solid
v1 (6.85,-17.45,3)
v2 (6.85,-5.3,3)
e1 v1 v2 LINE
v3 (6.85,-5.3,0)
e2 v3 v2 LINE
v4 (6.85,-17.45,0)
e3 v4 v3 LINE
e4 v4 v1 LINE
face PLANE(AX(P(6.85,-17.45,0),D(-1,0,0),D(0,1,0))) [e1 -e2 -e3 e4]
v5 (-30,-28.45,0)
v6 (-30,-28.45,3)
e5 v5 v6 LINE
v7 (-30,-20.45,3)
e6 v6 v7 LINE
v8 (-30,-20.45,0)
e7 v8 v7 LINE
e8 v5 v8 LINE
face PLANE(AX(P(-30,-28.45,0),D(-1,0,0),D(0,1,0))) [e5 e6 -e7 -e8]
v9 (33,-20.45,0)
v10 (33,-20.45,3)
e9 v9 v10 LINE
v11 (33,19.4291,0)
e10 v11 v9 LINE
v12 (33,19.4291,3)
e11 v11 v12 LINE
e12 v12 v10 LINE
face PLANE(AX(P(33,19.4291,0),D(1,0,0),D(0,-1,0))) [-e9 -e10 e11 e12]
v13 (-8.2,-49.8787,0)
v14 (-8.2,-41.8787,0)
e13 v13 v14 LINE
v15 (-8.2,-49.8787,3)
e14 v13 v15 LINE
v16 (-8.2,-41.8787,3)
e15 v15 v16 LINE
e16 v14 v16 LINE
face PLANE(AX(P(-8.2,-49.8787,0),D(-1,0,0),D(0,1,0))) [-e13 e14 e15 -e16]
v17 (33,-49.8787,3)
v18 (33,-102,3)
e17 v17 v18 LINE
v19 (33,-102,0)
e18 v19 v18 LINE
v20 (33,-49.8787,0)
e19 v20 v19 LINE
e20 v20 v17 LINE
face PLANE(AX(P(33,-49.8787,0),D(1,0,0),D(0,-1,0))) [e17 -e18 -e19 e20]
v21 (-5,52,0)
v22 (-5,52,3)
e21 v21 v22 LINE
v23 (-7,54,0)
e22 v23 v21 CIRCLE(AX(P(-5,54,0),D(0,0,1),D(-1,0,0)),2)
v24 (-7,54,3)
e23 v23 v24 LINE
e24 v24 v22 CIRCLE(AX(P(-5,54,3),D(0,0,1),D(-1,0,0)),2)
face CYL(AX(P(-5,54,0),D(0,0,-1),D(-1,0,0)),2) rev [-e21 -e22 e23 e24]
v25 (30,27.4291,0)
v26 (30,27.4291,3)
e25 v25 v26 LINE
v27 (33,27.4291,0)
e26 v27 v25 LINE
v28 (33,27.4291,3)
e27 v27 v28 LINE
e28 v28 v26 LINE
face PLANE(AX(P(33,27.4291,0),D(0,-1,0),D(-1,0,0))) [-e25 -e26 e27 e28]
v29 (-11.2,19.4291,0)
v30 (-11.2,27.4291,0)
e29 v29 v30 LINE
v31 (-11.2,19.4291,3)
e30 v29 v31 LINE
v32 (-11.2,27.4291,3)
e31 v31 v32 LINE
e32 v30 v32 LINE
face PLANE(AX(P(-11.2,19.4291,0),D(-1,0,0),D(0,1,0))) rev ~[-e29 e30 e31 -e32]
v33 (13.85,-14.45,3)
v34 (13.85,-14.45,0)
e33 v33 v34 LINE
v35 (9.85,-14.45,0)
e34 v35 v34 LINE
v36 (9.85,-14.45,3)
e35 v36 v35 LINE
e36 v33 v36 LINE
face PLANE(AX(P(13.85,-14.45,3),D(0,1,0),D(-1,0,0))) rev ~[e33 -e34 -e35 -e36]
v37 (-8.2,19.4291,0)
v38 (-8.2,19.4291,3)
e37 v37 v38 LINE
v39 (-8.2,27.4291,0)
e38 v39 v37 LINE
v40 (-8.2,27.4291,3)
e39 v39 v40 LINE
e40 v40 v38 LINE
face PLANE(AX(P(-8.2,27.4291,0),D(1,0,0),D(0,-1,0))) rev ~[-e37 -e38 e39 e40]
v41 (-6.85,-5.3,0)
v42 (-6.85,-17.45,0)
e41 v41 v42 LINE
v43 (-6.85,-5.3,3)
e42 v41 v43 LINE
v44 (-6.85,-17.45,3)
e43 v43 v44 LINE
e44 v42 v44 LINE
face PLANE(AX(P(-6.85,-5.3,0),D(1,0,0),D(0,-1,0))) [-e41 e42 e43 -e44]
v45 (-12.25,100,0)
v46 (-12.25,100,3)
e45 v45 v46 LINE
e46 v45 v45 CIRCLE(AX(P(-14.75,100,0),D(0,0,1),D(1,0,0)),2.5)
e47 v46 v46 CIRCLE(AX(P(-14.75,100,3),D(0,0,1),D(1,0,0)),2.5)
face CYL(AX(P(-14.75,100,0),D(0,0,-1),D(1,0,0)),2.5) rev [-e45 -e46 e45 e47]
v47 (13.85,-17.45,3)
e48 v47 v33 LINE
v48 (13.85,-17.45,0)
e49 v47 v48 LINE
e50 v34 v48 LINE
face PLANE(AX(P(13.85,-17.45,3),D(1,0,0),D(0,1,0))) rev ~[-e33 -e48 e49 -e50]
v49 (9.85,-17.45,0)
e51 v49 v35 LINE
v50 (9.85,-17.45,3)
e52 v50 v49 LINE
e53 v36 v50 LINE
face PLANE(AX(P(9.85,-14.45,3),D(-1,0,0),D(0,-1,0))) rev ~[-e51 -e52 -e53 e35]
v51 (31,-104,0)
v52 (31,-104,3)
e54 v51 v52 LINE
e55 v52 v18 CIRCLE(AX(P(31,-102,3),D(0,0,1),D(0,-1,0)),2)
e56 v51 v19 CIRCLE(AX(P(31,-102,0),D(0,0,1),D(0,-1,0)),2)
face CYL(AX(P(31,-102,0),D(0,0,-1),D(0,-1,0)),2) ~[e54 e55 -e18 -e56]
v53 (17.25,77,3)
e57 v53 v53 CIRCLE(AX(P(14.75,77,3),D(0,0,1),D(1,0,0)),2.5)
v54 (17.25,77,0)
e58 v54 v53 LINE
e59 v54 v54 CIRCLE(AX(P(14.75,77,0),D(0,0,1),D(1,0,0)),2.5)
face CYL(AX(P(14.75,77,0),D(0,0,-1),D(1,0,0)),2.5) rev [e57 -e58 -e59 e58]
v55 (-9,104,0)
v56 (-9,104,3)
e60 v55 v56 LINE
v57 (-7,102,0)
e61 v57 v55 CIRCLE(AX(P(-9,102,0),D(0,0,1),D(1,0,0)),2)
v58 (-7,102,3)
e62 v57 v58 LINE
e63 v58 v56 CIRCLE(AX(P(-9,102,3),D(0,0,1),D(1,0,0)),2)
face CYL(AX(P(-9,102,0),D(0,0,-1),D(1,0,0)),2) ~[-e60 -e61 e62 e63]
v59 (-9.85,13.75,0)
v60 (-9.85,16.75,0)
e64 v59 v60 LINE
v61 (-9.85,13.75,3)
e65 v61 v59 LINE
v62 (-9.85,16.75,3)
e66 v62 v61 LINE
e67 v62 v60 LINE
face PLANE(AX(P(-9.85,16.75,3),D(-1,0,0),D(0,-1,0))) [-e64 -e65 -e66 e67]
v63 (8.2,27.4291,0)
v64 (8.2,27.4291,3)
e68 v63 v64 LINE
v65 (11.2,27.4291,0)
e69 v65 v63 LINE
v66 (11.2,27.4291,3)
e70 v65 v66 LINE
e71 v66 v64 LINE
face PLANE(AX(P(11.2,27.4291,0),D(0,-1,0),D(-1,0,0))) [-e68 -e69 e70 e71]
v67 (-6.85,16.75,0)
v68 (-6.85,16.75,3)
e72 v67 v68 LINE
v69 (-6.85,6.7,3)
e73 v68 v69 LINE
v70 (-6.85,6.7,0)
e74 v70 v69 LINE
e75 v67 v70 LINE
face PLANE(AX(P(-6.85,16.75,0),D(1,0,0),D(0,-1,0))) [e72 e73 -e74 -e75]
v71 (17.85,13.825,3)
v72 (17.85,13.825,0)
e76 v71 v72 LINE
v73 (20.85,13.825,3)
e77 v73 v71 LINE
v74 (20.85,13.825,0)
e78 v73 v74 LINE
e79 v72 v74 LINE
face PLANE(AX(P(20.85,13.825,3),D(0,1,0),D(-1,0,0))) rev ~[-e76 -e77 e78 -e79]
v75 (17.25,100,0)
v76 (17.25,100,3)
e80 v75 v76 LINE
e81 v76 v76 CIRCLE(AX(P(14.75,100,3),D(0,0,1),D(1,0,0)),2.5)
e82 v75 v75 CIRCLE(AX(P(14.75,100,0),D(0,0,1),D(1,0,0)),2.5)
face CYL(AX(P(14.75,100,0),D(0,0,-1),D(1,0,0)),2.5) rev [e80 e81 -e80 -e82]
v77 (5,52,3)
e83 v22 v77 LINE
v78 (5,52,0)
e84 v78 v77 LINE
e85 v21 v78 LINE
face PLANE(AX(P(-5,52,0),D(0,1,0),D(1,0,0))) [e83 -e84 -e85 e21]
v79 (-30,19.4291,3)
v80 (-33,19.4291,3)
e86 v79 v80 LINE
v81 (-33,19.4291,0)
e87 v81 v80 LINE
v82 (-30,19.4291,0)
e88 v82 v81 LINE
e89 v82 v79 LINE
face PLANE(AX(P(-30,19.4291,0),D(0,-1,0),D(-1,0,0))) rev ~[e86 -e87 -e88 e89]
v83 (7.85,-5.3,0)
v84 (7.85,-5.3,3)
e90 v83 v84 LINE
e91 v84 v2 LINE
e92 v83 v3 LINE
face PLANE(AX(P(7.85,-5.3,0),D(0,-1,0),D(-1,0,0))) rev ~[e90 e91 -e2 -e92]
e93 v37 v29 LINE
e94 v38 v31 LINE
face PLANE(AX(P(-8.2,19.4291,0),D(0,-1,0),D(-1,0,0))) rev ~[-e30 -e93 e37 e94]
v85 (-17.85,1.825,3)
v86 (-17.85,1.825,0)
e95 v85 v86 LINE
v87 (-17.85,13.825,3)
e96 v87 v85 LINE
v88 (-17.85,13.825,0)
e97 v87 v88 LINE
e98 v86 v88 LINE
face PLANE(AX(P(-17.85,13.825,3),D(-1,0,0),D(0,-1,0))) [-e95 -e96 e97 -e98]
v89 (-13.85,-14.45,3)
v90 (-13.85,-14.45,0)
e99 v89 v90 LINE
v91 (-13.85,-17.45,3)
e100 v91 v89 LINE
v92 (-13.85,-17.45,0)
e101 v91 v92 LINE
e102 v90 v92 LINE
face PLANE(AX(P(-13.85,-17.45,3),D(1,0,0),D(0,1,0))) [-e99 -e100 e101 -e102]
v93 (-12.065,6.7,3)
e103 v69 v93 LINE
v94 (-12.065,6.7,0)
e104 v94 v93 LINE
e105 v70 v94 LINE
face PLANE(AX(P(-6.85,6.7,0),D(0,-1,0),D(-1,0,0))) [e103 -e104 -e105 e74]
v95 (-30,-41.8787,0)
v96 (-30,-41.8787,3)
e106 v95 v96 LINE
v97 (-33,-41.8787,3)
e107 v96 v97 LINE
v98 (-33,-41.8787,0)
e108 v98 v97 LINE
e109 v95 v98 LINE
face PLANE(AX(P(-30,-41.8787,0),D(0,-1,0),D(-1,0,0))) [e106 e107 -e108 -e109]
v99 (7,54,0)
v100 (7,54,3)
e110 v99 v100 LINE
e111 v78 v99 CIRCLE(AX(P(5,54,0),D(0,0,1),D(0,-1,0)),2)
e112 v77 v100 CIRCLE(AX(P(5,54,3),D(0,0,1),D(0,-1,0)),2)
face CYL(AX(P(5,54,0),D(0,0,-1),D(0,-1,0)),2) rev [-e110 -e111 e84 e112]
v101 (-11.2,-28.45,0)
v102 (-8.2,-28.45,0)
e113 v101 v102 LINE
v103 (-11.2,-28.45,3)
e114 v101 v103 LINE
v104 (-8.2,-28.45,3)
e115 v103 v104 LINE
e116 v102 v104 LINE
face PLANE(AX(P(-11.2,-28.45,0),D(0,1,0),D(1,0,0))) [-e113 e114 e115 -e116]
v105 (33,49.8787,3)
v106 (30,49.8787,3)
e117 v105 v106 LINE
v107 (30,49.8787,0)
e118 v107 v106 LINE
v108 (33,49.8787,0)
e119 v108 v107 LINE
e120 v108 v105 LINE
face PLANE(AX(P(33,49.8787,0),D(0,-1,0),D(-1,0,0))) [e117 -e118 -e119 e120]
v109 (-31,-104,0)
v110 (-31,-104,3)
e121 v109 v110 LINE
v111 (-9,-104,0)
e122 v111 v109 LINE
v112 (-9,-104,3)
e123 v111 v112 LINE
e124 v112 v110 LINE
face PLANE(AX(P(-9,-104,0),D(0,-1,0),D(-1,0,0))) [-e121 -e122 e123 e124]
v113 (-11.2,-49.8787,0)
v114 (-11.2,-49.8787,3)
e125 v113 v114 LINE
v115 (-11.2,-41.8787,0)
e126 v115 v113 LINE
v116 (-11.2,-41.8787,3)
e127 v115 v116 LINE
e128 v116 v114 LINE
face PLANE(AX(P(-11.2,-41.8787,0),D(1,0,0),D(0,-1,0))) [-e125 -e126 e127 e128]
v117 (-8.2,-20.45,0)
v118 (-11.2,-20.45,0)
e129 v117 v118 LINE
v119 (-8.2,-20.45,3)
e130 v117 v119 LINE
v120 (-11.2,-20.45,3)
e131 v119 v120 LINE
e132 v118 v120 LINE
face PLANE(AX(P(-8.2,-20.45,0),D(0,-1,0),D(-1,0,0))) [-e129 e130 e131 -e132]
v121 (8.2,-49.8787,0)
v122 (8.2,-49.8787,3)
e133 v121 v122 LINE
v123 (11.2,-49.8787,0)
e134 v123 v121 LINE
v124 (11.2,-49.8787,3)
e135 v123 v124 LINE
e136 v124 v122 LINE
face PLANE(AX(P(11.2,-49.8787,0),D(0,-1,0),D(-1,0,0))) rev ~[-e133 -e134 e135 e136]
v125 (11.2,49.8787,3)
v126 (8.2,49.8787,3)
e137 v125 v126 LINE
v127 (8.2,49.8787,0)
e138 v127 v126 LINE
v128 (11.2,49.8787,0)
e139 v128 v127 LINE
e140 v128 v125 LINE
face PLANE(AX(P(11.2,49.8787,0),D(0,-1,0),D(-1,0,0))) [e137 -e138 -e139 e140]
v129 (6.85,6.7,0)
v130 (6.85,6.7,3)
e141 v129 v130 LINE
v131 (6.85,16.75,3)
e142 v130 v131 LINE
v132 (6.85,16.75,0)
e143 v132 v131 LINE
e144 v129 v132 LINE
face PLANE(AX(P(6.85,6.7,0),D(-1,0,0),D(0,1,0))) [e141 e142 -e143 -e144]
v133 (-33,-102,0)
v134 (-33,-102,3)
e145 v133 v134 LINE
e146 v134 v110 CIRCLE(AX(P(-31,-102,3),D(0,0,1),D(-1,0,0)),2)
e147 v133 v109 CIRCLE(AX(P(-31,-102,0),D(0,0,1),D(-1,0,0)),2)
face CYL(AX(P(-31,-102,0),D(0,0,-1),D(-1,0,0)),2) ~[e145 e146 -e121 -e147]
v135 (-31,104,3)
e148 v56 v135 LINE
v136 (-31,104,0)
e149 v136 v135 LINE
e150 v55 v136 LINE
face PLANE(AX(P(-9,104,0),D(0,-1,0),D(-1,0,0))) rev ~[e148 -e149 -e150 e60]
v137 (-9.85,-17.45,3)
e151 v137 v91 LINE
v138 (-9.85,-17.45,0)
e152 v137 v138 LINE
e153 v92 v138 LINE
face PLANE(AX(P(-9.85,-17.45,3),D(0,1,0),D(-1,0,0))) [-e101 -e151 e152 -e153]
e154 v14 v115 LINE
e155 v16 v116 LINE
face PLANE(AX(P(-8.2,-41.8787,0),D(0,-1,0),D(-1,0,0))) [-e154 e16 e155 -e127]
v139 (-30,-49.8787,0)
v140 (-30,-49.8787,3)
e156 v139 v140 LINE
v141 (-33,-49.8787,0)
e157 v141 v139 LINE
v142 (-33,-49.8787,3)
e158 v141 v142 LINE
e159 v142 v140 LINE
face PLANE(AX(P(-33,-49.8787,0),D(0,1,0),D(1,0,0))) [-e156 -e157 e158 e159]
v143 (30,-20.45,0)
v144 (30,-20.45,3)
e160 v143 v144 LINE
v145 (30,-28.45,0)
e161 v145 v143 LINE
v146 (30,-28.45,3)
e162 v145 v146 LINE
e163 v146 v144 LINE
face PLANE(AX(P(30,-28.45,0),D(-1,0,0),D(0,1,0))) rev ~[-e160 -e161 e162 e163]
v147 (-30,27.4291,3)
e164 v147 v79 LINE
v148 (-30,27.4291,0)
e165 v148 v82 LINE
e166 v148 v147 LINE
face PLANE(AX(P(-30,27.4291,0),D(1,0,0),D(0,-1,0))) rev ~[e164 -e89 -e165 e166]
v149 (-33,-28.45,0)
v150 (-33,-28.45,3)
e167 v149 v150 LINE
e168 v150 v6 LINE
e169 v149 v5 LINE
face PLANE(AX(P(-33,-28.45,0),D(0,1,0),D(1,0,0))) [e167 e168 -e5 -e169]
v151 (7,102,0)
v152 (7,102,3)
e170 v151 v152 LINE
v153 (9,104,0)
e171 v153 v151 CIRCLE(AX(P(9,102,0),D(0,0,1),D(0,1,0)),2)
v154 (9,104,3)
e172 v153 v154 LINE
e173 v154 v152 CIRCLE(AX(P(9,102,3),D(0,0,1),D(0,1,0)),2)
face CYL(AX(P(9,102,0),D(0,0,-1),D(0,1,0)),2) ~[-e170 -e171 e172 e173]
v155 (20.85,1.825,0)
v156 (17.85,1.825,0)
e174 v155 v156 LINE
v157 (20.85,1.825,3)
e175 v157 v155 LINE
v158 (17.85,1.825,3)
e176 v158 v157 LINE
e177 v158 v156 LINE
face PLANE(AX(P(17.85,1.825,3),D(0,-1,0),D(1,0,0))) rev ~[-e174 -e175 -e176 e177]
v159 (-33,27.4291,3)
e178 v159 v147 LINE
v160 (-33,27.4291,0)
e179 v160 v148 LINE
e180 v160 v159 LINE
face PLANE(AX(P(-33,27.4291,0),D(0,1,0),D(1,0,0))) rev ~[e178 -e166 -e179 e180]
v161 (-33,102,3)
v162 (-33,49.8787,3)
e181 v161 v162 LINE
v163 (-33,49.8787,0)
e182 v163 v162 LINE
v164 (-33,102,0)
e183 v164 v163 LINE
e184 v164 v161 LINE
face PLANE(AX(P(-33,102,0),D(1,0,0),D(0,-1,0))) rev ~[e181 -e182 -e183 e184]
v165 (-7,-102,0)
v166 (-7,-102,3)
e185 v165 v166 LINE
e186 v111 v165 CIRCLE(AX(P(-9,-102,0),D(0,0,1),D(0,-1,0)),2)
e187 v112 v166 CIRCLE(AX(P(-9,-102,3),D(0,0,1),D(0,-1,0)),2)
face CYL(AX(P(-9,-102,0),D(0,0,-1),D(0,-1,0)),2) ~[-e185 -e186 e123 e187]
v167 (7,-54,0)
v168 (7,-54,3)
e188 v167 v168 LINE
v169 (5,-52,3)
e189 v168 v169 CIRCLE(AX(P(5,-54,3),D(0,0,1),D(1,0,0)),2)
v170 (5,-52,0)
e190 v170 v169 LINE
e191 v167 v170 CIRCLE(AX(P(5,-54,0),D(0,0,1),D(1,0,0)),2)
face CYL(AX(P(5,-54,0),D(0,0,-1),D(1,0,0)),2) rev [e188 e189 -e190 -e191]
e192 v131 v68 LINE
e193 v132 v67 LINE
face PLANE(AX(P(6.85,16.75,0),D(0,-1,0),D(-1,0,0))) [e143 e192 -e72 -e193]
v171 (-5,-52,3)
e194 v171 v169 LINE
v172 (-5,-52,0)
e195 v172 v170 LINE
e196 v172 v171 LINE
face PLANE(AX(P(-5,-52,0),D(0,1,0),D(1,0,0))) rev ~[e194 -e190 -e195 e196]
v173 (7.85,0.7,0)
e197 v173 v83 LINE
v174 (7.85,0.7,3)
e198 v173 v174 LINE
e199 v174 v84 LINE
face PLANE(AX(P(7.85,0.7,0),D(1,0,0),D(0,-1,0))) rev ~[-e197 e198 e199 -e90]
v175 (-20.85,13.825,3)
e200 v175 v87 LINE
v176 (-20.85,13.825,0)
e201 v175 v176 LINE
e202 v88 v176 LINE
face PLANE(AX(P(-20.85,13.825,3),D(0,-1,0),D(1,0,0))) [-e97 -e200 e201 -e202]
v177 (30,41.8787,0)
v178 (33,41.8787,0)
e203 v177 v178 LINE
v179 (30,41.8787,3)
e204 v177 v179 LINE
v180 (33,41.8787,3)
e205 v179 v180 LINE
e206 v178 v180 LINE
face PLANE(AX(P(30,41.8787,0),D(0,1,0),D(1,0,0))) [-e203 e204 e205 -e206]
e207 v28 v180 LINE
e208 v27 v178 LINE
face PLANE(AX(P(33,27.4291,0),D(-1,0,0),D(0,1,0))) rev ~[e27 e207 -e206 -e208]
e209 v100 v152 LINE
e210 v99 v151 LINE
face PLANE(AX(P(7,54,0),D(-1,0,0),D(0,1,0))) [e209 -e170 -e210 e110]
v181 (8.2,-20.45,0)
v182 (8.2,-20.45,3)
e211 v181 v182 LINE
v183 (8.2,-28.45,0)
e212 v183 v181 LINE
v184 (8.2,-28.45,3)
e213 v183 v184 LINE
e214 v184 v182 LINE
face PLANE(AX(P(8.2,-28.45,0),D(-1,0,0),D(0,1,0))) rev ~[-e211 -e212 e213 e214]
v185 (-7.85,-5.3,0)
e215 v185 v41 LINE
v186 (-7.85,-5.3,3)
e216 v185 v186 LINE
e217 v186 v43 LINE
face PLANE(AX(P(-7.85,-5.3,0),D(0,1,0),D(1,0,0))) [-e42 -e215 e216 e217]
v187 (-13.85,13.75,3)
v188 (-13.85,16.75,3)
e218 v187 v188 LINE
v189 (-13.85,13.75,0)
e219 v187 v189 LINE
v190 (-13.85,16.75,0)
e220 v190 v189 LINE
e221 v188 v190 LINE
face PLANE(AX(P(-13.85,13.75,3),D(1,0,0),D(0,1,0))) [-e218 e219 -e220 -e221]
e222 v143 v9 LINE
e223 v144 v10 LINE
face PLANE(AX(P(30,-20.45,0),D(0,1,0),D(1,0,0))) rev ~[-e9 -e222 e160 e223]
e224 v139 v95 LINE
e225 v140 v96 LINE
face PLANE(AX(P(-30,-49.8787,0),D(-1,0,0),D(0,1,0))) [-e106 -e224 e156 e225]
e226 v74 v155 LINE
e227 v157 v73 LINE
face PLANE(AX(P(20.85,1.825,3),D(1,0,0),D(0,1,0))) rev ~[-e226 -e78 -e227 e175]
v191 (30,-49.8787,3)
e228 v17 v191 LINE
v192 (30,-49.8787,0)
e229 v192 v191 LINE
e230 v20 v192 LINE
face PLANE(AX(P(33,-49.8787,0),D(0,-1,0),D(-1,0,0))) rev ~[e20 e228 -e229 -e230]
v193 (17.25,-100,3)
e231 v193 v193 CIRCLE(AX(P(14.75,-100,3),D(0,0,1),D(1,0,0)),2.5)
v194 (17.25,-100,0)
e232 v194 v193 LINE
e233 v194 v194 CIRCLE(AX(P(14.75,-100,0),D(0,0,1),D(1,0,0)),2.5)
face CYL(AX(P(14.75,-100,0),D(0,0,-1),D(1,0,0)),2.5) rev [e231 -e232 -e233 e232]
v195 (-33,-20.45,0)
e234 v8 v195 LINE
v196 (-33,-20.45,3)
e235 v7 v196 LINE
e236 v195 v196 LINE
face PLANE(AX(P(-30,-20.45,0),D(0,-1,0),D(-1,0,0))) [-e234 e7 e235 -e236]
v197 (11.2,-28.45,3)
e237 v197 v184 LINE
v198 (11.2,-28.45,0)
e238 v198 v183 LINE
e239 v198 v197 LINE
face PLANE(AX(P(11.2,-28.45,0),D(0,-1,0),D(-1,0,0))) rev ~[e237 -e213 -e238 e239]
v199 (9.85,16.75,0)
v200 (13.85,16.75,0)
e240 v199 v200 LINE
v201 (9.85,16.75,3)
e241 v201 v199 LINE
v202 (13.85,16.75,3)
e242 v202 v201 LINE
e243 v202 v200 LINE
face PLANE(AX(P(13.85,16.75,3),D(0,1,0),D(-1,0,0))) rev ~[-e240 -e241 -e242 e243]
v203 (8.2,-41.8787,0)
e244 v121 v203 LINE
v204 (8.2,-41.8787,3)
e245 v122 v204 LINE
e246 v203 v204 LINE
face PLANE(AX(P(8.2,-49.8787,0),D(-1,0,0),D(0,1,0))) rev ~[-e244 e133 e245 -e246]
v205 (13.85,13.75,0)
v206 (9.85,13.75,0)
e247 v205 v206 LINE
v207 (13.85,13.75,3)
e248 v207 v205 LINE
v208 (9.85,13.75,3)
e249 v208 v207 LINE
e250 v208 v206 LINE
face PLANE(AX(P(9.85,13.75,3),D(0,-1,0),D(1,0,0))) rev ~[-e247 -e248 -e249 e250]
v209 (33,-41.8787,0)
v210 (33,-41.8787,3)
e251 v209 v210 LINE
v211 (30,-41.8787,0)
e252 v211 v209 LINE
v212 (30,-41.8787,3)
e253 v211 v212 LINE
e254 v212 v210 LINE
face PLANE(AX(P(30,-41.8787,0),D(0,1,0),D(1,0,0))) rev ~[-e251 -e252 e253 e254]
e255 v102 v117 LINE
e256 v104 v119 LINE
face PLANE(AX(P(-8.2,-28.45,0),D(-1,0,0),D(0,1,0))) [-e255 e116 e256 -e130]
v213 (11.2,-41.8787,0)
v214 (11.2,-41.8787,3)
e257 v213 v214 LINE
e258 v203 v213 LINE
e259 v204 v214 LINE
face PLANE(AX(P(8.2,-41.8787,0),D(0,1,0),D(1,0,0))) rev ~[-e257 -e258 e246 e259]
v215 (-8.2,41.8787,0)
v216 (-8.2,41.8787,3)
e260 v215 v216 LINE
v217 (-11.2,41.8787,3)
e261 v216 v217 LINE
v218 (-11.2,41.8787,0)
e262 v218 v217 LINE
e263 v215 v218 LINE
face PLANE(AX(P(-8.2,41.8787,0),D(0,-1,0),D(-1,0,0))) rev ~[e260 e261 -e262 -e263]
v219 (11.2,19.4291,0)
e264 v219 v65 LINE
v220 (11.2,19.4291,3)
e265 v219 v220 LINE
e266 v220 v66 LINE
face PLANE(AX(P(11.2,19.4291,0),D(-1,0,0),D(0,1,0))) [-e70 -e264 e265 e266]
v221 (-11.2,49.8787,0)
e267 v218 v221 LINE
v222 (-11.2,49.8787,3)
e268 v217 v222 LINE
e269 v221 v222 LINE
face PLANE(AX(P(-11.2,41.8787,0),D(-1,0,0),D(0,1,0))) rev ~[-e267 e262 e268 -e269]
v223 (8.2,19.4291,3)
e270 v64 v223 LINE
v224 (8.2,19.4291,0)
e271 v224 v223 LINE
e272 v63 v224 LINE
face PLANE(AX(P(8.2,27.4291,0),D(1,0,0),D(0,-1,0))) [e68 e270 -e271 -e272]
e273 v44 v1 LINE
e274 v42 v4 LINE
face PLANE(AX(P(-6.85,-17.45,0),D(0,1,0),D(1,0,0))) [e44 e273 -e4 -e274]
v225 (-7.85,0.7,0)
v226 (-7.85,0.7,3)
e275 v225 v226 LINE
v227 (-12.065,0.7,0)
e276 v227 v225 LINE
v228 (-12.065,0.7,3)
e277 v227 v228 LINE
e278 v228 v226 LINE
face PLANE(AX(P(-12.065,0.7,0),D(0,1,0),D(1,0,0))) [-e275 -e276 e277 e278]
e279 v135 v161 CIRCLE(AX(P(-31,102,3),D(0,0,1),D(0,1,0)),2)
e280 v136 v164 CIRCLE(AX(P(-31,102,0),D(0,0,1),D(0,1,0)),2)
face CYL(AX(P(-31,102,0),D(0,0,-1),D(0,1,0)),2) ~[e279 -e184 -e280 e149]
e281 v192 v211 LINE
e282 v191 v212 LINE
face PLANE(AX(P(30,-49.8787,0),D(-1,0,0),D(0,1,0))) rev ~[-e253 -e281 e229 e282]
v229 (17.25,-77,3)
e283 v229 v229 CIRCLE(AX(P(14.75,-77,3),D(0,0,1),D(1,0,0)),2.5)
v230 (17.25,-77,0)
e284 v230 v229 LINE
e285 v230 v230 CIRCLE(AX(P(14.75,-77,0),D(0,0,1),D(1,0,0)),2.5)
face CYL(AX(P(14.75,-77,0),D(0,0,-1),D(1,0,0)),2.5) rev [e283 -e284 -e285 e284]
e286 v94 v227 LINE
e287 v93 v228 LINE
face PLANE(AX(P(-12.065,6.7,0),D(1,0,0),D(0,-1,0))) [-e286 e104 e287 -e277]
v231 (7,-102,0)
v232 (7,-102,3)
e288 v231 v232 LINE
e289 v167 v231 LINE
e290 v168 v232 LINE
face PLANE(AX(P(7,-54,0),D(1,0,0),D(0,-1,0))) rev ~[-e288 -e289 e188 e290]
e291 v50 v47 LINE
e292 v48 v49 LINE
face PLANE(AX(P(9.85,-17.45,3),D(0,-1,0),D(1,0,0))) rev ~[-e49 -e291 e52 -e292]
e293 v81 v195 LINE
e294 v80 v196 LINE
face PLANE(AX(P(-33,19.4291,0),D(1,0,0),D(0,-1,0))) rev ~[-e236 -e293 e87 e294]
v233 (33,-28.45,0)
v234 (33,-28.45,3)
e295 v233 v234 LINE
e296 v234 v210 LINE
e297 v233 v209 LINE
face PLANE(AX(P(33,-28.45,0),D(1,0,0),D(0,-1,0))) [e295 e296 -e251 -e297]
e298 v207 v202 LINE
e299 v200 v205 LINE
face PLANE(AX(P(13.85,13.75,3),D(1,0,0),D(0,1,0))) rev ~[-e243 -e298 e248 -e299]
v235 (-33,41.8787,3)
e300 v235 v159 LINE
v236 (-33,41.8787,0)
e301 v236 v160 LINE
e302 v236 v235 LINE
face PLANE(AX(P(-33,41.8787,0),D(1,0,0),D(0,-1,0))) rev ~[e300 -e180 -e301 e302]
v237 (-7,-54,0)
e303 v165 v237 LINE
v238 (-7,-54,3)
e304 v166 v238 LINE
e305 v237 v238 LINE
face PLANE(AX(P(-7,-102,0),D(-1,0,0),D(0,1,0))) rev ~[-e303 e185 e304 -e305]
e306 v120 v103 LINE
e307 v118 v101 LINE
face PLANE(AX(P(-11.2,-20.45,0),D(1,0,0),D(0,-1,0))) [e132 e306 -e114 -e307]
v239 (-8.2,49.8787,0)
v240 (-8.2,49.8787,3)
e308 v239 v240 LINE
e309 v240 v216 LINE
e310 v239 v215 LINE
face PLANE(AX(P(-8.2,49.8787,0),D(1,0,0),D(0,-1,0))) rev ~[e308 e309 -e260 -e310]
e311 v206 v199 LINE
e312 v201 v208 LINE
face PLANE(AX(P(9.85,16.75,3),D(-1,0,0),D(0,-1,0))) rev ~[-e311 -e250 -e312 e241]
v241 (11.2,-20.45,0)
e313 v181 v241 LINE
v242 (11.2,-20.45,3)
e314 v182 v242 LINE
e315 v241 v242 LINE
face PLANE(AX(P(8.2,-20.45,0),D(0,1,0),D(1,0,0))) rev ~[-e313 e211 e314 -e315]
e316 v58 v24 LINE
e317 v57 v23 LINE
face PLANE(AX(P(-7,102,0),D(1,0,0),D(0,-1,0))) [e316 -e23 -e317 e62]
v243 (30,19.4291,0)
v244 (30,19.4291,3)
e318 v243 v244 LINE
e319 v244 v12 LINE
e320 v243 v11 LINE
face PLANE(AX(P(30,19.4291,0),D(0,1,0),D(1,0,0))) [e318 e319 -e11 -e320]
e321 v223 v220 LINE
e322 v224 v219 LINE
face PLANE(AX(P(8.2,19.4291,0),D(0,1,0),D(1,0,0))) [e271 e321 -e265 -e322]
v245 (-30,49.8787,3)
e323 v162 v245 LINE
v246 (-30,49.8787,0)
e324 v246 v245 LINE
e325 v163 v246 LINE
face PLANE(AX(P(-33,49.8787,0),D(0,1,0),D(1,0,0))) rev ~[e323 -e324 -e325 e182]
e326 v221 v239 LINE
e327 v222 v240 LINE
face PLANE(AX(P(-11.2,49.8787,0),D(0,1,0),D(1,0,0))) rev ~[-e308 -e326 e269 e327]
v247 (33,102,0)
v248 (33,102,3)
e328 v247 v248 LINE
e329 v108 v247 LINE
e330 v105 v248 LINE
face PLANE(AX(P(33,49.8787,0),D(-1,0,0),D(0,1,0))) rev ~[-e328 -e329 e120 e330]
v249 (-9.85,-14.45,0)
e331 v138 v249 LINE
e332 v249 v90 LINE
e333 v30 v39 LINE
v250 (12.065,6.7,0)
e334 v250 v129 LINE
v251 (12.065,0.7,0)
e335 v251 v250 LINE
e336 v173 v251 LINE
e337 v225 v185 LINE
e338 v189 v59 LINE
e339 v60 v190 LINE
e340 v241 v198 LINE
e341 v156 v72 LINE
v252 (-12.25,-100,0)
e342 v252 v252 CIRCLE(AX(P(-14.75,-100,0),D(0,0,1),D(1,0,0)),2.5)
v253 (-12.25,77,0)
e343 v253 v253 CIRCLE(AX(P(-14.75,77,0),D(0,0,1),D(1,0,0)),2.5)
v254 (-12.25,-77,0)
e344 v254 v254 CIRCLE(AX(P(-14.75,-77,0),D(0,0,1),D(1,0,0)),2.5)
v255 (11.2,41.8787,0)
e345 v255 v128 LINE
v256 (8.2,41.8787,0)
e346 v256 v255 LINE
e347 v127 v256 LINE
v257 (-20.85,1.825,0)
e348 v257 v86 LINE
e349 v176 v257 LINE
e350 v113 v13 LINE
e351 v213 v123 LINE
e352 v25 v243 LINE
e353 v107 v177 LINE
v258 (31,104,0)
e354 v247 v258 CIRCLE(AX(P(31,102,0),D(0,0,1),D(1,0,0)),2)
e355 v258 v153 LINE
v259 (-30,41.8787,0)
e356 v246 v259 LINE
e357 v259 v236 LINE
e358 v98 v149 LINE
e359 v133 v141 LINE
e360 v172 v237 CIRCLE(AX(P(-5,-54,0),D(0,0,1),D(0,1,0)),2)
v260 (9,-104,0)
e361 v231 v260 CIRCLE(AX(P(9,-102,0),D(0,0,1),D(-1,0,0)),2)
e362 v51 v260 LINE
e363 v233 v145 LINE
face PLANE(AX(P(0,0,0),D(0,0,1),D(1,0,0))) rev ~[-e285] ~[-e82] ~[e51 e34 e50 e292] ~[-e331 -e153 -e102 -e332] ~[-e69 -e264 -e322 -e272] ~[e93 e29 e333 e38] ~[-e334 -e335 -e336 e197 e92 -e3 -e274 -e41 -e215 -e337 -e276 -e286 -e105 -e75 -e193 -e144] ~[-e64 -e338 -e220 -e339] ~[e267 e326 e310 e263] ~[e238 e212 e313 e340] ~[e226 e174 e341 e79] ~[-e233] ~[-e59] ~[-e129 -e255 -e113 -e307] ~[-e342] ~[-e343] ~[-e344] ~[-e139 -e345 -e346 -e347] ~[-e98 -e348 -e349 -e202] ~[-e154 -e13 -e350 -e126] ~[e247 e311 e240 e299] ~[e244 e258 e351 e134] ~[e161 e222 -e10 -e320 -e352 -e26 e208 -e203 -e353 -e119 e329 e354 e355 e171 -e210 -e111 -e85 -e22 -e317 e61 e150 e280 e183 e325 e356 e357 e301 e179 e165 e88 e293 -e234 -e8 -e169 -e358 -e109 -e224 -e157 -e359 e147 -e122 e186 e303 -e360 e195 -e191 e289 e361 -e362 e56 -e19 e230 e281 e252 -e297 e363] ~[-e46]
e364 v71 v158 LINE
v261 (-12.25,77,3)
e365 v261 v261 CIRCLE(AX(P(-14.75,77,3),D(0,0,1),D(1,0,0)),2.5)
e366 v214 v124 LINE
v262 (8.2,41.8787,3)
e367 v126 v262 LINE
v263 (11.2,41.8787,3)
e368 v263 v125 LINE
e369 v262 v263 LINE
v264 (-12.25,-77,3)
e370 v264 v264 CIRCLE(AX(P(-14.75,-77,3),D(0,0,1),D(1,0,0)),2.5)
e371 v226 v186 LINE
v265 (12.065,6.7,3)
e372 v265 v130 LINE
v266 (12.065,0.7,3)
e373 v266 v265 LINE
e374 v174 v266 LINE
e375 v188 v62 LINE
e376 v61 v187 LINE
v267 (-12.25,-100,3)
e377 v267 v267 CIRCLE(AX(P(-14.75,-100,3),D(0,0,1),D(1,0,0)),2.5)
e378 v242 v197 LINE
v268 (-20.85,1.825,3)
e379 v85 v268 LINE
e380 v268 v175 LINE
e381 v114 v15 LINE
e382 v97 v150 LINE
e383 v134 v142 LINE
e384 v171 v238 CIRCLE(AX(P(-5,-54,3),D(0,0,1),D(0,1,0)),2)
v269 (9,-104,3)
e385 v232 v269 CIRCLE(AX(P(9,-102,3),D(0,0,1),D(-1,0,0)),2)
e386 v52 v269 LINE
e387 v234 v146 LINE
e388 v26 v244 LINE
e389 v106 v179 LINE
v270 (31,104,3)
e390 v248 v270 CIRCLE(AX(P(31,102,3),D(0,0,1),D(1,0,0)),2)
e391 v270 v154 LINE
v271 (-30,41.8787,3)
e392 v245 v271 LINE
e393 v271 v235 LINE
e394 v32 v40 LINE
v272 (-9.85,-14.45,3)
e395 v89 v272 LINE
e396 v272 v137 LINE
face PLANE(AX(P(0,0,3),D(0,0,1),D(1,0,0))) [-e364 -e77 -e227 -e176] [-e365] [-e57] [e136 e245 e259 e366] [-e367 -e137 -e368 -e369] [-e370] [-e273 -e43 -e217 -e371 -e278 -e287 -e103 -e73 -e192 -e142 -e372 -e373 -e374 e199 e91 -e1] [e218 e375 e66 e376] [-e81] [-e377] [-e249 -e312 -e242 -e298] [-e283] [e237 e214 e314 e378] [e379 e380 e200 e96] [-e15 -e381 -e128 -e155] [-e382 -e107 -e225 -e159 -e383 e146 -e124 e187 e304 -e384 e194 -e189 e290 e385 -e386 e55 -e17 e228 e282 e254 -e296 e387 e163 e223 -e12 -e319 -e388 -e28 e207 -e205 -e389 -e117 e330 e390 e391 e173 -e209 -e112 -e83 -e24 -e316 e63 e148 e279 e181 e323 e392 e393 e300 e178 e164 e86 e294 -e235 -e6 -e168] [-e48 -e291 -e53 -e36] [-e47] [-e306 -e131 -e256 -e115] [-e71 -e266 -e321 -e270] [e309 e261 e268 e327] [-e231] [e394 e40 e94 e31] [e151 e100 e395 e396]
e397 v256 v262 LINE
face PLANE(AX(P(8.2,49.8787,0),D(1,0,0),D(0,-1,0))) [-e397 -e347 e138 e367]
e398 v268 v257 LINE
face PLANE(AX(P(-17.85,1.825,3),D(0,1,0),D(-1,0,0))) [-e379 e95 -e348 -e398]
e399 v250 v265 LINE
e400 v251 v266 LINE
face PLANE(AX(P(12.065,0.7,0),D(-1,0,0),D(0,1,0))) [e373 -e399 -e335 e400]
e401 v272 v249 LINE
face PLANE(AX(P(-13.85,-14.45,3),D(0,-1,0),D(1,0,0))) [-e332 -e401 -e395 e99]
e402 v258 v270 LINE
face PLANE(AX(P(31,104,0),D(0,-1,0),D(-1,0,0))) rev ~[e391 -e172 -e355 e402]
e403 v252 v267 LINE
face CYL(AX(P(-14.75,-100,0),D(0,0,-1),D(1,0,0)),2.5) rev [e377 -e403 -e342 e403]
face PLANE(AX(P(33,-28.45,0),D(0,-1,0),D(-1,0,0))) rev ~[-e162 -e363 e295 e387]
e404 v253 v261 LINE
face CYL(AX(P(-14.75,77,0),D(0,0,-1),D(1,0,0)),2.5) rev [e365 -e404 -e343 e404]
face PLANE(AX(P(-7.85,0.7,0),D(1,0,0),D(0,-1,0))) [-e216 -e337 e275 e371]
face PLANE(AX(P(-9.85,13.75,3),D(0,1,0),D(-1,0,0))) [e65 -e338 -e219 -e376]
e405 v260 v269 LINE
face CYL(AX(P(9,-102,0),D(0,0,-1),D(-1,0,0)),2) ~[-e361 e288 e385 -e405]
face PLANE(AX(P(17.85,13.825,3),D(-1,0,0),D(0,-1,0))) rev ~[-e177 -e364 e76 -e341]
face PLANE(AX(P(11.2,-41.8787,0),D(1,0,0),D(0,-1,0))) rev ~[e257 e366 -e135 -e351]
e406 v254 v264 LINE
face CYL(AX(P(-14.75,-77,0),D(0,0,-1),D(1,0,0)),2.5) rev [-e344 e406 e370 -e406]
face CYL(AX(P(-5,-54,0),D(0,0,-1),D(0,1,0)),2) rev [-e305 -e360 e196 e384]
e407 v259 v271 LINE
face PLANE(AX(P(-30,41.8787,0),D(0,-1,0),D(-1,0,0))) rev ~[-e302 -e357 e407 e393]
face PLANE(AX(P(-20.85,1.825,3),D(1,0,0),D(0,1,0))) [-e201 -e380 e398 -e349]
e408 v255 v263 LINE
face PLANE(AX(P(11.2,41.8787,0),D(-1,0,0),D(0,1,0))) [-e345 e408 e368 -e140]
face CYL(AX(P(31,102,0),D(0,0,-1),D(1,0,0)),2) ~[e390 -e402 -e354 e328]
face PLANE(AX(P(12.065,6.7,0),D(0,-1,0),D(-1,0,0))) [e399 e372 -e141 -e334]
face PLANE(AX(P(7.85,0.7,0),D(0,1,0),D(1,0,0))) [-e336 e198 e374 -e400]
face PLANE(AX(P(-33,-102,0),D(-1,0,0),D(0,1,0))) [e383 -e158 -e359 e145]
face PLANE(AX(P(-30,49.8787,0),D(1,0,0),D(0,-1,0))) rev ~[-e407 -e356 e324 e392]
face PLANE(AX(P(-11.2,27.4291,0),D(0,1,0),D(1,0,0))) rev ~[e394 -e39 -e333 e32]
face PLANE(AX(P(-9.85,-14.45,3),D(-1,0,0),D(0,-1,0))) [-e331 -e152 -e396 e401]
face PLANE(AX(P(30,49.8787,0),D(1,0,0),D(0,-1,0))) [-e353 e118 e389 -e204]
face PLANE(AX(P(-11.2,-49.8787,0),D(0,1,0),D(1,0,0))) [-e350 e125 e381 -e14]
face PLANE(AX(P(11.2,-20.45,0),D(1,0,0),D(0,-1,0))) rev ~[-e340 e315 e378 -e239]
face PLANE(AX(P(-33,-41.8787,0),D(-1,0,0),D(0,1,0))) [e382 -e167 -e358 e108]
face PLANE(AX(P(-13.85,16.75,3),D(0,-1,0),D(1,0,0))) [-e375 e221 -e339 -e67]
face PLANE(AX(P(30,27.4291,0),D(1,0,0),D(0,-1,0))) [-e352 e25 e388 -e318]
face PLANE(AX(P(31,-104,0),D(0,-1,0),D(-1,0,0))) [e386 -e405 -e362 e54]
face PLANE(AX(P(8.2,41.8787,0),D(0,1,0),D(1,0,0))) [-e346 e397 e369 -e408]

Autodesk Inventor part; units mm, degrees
ref_plane "XZ Plane" through (0, 0, 0) normal (0, 1, 0) x (-1, 0, 0)
ref_plane "XY Plane" through (0, 0, 0) normal (0, 0, 1) x (1, 0, 0)
sketch "草圖1" plane through (0, 0, 0) normal (0, 0, 1) x (1, 0, 0)
  line L0 (-33, -104) -> (33, 104) construction
  line L1 (33, -104) -> (-33, 104) construction
  line L2 (0, 128.5379) -> (0, -160.5456) construction
  circle A0 centre (-14.75, 100) radius 2.5
  circle A1 centre (14.75, 100) radius 2.5
  circle A2 centre (14.75, 77) radius 2.5
  circle A3 centre (-14.75, 77) radius 2.5
  line L3 (-33, 49.8787) -> (-30, 49.8787)
  line L4 (-30, 49.8787) -> (-30, 41.8787)
  line L5 (-30, 41.8787) -> (-33, 41.8787)
  line L6 (-33, 102) -> (-33, 49.8787)
  line L7 (-11.2, 49.8787) -> (-8.2, 49.8787)
  line L8 (-8.2, 49.8787) -> (-8.2, 41.8787)
  line L9 (-8.2, 41.8787) -> (-11.2, 41.8787)
  line L10 (-11.2, 41.8787) -> (-11.2, 49.8787)
  line L11 (33, 49.8787) -> (30, 49.8787)
  line L12 (30, 49.8787) -> (30, 41.8787)
  line L13 (30, 41.8787) -> (33, 41.8787)
  line L14 (11.2, 49.8787) -> (8.2, 49.8787)
  line L15 (8.2, 49.8787) -> (8.2, 41.8787)
  line L16 (8.2, 41.8787) -> (11.2, 41.8787)
  line L17 (11.2, 41.8787) -> (11.2, 49.8787)
  line L18 (33, 49.8787) -> (33, 102)
  line L19 (-33, 41.8787) -> (-33, 27.4291)
  line L20 (33, 27.4291) -> (33, 41.8787)
  line L21 (-5, 52) -> (5, 52)
  line L22 (7, 54) -> (7, 102)
  line L23 (-7, 102) -> (-7, 54)
  line L24 (-7, 52) -> (7, 104) construction
  line L25 (7, 52) -> (-7, 104) construction
  line L26 (31, 104) -> (9, 104)
  line L27 (-9, 104) -> (-31, 104)
  arc A4 (-7, 102) -> (-9, 104) centre (-9, 102) ccw
  arc A5 (9, 104) -> (7, 102) centre (9, 102) ccw
  arc A6 (-7, 54) -> (-5, 52) centre (-5, 54) ccw
  arc A7 (5, 52) -> (7, 54) centre (5, 54) ccw
  arc A8 (-31, 104) -> (-33, 102) centre (-31, 102) ccw
  arc A9 (33, 102) -> (31, 104) centre (31, 102) ccw
  line L28 (-82.8249, 0) -> (86.4934, 0) construction
  circle A10 centre (-14.75, -100) radius 2.5
  circle A11 centre (14.75, -100) radius 2.5
  circle A12 centre (14.75, -77) radius 2.5
  circle A13 centre (-14.75, -77) radius 2.5
  line L29 (-33, -49.8787) -> (-30, -49.8787)
  line L30 (-30, -49.8787) -> (-30, -41.8787)
  line L31 (-30, -41.8787) -> (-33, -41.8787)
  line L32 (-33, -102) -> (-33, -49.8787)
  line L33 (-11.2, -49.8787) -> (-8.2, -49.8787)
  line L34 (-8.2, -49.8787) -> (-8.2, -41.8787)
  line L35 (-8.2, -41.8787) -> (-11.2, -41.8787)
  line L36 (-11.2, -41.8787) -> (-11.2, -49.8787)
  line L37 (33, -49.8787) -> (30, -49.8787)
  line L38 (30, -49.8787) -> (30, -41.8787)
  line L39 (30, -41.8787) -> (33, -41.8787)
  line L40 (8.2, -41.8787) -> (11.2, -41.8787)
  line L41 (11.2, -41.8787) -> (11.2, -49.8787)
  line L42 (8.2, -49.8787) -> (8.2, -41.8787)
  line L43 (11.2, -49.8787) -> (8.2, -49.8787)
  line L44 (33, -49.8787) -> (33, -102)
  line L45 (8.2, -28.45) -> (8.2, -20.45)
  line L46 (8.2, -20.45) -> (11.2, -20.45)
  line L47 (11.2, -28.45) -> (8.2, -28.45)
  line L48 (11.2, -20.45) -> (11.2, -28.45)
  line L49 (30, -28.45) -> (30, -20.45)
  line L50 (30, -20.45) -> (33, -20.45)
  line L51 (33, -28.45) -> (30, -28.45)
  line L52 (-8.2, -28.45) -> (-8.2, -20.45)
  line L53 (-8.2, -20.45) -> (-11.2, -20.45)
  line L54 (-11.2, -28.45) -> (-8.2, -28.45)
  line L55 (-11.2, -20.45) -> (-11.2, -28.45)
  line L56 (-30, -28.45) -> (-30, -20.45)
  line L57 (-33, -28.45) -> (-30, -28.45)
  line L58 (-30, -20.45) -> (-33, -20.45)
  line L59 (-33, -41.8787) -> (-33, -28.45)
  line L60 (33, -28.45) -> (33, -41.8787)
  line L61 (-5, -52) -> (5, -52)
  line L62 (7, -54) -> (7, -102)
  line L63 (-7, -102) -> (-7, -54)
  line L64 (-7, -52) -> (7, -104) construction
  line L65 (7, -52) -> (-7, -104) construction
  line L66 (31, -104) -> (9, -104)
  line L67 (-9, -104) -> (-31, -104)
  arc A14 (-9, -104) -> (-7, -102) centre (-9, -102) ccw
  arc A15 (7, -102) -> (9, -104) centre (9, -102) ccw
  arc A16 (-5, -52) -> (-7, -54) centre (-5, -54) ccw
  arc A17 (7, -54) -> (5, -52) centre (5, -54) ccw
  arc A18 (-33, -102) -> (-31, -104) centre (-31, -102) ccw
  arc A19 (31, -104) -> (33, -102) centre (31, -102) ccw
  line L68 (-31, -104) -> (-9, -104)
  line L69 (9, -104) -> (31, -104)
  line L70 (-6.85, -17.45) -> (6.85, -17.45)
  line L71 (6.85, 16.75) -> (-6.85, 16.75)
  line L72 (12.065, 0.7) -> (12.065, 6.7)
  line L73 (-12.065, 6.7) -> (-12.065, 0.7)
  line L74 (-12.065, 0.7) -> (12.065, 6.7) construction
  line L75 (12.065, 0.7) -> (-12.065, 6.7) construction
  line L76 (-6.85, 16.75) -> (-6.85, 6.7)
  line L77 (6.85, 6.7) -> (6.85, 16.75)
  line L78 (12.065, 6.7) -> (6.85, 6.7)
  line L79 (7.85, 0.7) -> (12.065, 0.7)
  line L80 (-12.065, 0.7) -> (-7.85, 0.7)
  line L81 (-6.85, 6.7) -> (-12.065, 6.7)
  line L82 (-33, -28.45) -> (-33, -41.8787)
  line L83 (-33, -49.8787) -> (-33, -102)
  line L84 (33, -102) -> (33, -49.8787)
  line L85 (33, -41.8787) -> (33, -28.45)
  line L86 (-11.2, -41.8787) -> (-8.2, -49.8787) construction
  line L87 (-8.2, -41.8787) -> (-11.2, -49.8787) construction
  line L88 (-13.3213, -39.7574) -> (-6.0787, -39.7574) construction
  line L89 (-6.0787, -39.7574) -> (-6.0787, -52) construction
  line L90 (-6.0787, -52) -> (-13.3213, -52) construction
  line L91 (-13.3213, -52) -> (-13.3213, -39.7574) construction
  line L92 (-8.2, -41.8787) -> (-6.0787, -39.7574) construction
  circle A20 centre (-6.85, 16.75) radius 3 construction
  line L93 (-11.2, 27.4291) -> (-8.2, 27.4291)
  line L94 (-8.2, 27.4291) -> (-8.2, 19.4291)
  line L95 (-8.2, 19.4291) -> (-11.2, 19.4291)
  line L96 (-11.2, 19.4291) -> (-11.2, 27.4291)
  line L97 (-33, 27.4291) -> (-30, 27.4291)
  line L98 (-30, 27.4291) -> (-30, 19.4291)
  line L99 (-30, 19.4291) -> (-33, 19.4291)
  line L100 (11.2, 27.4291) -> (8.2, 27.4291)
  line L101 (8.2, 27.4291) -> (8.2, 19.4291)
  line L102 (8.2, 19.4291) -> (11.2, 19.4291)
  line L103 (11.2, 19.4291) -> (11.2, 27.4291)
  line L104 (33, 27.4291) -> (30, 27.4291)
  line L105 (30, 27.4291) -> (30, 19.4291)
  line L106 (30, 19.4291) -> (33, 19.4291)
  line L107 (-33, 19.4291) -> (-33, -20.45)
  line L108 (33, 19.4291) -> (33, -20.45)
  line L109 (-9.85, -17.45) -> (-14.15, -17.45) construction
  line L110 (-14.15, -17.45) -> (-14.15, -14.45) construction
  line L111 (-14.15, -14.45) -> (-9.85, -14.45) construction
  line L112 (-9.85, -14.45) -> (-9.85, -17.45) construction
  line L113 (-17.15, -20.45) -> (-6.85, -20.45) construction
  line L114 (-6.85, -20.45) -> (-6.85, -11.45) construction
  line L115 (-6.85, -11.45) -> (-17.15, -11.45) construction
  line L116 (-17.15, -11.45) -> (-17.15, -20.45) construction
  line L117 (-7.85, 0.7) -> (-7.85, -5.3)
  line L118 (-7.85, -5.3) -> (-6.85, -5.3)
  line L119 (-6.85, -5.3) -> (-6.85, -17.45)
  line L120 (7.85, 0.7) -> (7.85, -5.3)
  line L121 (7.85, -5.3) -> (6.85, -5.3)
  line L122 (6.85, -17.45) -> (6.85, -5.3)
  point P0 (0, 0)
  point P1 (0, 86.5078)
  point P2 (0, 78)
  point P3 (0, -86.5078)
  point P4 (0, -78)
  point P5 (0, 3.7)
  point P6 (12.065, 3.7)
  dimension "d56" = 6
  dimension "d0" = 66
  dimension "d1" = 208
  dimension "d6" = 5
  dimension "d8" = 29.5
  dimension "d9" = 23
  dimension "d10" = 3
  dimension "d11" = 8
  dimension "d13" = 3
  dimension "d14" = 18.8
  dimension "d22" = 14
  dimension "d23" = 4
  dimension "d24" = 2
  dimension "d25" = 2
  dimension "d26" = 34.2
  dimension "d27" = 13.7
  dimension "d28" = 6
  dimension "d30" = 24.13
  dimension "d31" = 10.05
  dimension "d53" = 3
  dimension "d54" = 52
  dimension "d57" = 3
  dimension "d58" = 3
  dimension "d71" = 4.3
  dimension "d73" = 3
  dimension "d74" = 3
  dimension "d97" = 6
  dimension "d98" = 1
  dimension "d101" = 0.7
extrude "擠出1" add sketch "草圖1" along normal blind 3
sketch "草圖3" plane through (0, 0, 3) normal (0, 0, 1) x (1, 0, 0)
  line L0 (-88.1264, 0) -> (75.7938, 0)
  line L1 (0, 123.8394) -> (0, -129.4918)
  point P0 (0, 0)
sketch "草圖5" plane through (0, 0, 3) normal (0, 0, 1) x (1, 0, 0)
  line L0 (-9.85, -17.45) -> (-13.85, -17.45)
  line L1 (-13.85, -17.45) -> (-13.85, -14.45)
  line L2 (-13.85, -14.45) -> (-9.85, -14.45)
  line L3 (-9.85, -14.45) -> (-9.85, -17.45)
  line L4 (6.85, -17.45) -> (-6.85, -17.45) projected
  line L5 (-9.85, 13.75) -> (-13.85, 13.75)
  line L6 (-13.85, 13.75) -> (-13.85, 16.75)
  line L7 (-13.85, 16.75) -> (-9.85, 16.75)
  line L8 (-9.85, 16.75) -> (-9.85, 13.75)
  line L9 (-6.85, 16.75) -> (6.85, 16.75) projected
  line L10 (0, 31.1544) -> (0, -25.4134)
  line L11 (9.85, -17.45) -> (13.85, -17.45)
  line L12 (13.85, -17.45) -> (13.85, -14.45)
  line L13 (13.85, -14.45) -> (9.85, -14.45)
  line L14 (9.85, -14.45) -> (9.85, -17.45)
  line L15 (13.85, 16.75) -> (9.85, 16.75)
  line L16 (13.85, 13.75) -> (13.85, 16.75)
  line L17 (9.85, 13.75) -> (13.85, 13.75)
  line L18 (9.85, 16.75) -> (9.85, 13.75)
  line L19 (-17.85, 1.825) -> (-20.85, 1.825)
  line L20 (-20.85, 1.825) -> (-20.85, 13.825)
  line L21 (-20.85, 13.825) -> (-17.85, 13.825)
  line L22 (-17.85, 13.825) -> (-17.85, 1.825)
  line L23 (17.85, 1.825) -> (20.85, 1.825)
  line L24 (20.85, 1.825) -> (20.85, 13.825)
  line L25 (20.85, 13.825) -> (17.85, 13.825)
  line L26 (17.85, 13.825) -> (17.85, 1.825)
  line L27 (-6.85, -17.45) -> (-6.85, 16.75) construction
  point P0 (0, 0)
  dimension "d60" = 4
  dimension "d62" = 3
  dimension "d64" = 3
  dimension "d66" = 3
  dimension "d67" = 12
  dimension "d96" = 3
  dimension "d100" = 11
  dimension "d102" = 0.075
extrude "擠出4" cut sketch "草圖5" against normal up to next
properties part number "main_frame" material "木材 (楓木)"
